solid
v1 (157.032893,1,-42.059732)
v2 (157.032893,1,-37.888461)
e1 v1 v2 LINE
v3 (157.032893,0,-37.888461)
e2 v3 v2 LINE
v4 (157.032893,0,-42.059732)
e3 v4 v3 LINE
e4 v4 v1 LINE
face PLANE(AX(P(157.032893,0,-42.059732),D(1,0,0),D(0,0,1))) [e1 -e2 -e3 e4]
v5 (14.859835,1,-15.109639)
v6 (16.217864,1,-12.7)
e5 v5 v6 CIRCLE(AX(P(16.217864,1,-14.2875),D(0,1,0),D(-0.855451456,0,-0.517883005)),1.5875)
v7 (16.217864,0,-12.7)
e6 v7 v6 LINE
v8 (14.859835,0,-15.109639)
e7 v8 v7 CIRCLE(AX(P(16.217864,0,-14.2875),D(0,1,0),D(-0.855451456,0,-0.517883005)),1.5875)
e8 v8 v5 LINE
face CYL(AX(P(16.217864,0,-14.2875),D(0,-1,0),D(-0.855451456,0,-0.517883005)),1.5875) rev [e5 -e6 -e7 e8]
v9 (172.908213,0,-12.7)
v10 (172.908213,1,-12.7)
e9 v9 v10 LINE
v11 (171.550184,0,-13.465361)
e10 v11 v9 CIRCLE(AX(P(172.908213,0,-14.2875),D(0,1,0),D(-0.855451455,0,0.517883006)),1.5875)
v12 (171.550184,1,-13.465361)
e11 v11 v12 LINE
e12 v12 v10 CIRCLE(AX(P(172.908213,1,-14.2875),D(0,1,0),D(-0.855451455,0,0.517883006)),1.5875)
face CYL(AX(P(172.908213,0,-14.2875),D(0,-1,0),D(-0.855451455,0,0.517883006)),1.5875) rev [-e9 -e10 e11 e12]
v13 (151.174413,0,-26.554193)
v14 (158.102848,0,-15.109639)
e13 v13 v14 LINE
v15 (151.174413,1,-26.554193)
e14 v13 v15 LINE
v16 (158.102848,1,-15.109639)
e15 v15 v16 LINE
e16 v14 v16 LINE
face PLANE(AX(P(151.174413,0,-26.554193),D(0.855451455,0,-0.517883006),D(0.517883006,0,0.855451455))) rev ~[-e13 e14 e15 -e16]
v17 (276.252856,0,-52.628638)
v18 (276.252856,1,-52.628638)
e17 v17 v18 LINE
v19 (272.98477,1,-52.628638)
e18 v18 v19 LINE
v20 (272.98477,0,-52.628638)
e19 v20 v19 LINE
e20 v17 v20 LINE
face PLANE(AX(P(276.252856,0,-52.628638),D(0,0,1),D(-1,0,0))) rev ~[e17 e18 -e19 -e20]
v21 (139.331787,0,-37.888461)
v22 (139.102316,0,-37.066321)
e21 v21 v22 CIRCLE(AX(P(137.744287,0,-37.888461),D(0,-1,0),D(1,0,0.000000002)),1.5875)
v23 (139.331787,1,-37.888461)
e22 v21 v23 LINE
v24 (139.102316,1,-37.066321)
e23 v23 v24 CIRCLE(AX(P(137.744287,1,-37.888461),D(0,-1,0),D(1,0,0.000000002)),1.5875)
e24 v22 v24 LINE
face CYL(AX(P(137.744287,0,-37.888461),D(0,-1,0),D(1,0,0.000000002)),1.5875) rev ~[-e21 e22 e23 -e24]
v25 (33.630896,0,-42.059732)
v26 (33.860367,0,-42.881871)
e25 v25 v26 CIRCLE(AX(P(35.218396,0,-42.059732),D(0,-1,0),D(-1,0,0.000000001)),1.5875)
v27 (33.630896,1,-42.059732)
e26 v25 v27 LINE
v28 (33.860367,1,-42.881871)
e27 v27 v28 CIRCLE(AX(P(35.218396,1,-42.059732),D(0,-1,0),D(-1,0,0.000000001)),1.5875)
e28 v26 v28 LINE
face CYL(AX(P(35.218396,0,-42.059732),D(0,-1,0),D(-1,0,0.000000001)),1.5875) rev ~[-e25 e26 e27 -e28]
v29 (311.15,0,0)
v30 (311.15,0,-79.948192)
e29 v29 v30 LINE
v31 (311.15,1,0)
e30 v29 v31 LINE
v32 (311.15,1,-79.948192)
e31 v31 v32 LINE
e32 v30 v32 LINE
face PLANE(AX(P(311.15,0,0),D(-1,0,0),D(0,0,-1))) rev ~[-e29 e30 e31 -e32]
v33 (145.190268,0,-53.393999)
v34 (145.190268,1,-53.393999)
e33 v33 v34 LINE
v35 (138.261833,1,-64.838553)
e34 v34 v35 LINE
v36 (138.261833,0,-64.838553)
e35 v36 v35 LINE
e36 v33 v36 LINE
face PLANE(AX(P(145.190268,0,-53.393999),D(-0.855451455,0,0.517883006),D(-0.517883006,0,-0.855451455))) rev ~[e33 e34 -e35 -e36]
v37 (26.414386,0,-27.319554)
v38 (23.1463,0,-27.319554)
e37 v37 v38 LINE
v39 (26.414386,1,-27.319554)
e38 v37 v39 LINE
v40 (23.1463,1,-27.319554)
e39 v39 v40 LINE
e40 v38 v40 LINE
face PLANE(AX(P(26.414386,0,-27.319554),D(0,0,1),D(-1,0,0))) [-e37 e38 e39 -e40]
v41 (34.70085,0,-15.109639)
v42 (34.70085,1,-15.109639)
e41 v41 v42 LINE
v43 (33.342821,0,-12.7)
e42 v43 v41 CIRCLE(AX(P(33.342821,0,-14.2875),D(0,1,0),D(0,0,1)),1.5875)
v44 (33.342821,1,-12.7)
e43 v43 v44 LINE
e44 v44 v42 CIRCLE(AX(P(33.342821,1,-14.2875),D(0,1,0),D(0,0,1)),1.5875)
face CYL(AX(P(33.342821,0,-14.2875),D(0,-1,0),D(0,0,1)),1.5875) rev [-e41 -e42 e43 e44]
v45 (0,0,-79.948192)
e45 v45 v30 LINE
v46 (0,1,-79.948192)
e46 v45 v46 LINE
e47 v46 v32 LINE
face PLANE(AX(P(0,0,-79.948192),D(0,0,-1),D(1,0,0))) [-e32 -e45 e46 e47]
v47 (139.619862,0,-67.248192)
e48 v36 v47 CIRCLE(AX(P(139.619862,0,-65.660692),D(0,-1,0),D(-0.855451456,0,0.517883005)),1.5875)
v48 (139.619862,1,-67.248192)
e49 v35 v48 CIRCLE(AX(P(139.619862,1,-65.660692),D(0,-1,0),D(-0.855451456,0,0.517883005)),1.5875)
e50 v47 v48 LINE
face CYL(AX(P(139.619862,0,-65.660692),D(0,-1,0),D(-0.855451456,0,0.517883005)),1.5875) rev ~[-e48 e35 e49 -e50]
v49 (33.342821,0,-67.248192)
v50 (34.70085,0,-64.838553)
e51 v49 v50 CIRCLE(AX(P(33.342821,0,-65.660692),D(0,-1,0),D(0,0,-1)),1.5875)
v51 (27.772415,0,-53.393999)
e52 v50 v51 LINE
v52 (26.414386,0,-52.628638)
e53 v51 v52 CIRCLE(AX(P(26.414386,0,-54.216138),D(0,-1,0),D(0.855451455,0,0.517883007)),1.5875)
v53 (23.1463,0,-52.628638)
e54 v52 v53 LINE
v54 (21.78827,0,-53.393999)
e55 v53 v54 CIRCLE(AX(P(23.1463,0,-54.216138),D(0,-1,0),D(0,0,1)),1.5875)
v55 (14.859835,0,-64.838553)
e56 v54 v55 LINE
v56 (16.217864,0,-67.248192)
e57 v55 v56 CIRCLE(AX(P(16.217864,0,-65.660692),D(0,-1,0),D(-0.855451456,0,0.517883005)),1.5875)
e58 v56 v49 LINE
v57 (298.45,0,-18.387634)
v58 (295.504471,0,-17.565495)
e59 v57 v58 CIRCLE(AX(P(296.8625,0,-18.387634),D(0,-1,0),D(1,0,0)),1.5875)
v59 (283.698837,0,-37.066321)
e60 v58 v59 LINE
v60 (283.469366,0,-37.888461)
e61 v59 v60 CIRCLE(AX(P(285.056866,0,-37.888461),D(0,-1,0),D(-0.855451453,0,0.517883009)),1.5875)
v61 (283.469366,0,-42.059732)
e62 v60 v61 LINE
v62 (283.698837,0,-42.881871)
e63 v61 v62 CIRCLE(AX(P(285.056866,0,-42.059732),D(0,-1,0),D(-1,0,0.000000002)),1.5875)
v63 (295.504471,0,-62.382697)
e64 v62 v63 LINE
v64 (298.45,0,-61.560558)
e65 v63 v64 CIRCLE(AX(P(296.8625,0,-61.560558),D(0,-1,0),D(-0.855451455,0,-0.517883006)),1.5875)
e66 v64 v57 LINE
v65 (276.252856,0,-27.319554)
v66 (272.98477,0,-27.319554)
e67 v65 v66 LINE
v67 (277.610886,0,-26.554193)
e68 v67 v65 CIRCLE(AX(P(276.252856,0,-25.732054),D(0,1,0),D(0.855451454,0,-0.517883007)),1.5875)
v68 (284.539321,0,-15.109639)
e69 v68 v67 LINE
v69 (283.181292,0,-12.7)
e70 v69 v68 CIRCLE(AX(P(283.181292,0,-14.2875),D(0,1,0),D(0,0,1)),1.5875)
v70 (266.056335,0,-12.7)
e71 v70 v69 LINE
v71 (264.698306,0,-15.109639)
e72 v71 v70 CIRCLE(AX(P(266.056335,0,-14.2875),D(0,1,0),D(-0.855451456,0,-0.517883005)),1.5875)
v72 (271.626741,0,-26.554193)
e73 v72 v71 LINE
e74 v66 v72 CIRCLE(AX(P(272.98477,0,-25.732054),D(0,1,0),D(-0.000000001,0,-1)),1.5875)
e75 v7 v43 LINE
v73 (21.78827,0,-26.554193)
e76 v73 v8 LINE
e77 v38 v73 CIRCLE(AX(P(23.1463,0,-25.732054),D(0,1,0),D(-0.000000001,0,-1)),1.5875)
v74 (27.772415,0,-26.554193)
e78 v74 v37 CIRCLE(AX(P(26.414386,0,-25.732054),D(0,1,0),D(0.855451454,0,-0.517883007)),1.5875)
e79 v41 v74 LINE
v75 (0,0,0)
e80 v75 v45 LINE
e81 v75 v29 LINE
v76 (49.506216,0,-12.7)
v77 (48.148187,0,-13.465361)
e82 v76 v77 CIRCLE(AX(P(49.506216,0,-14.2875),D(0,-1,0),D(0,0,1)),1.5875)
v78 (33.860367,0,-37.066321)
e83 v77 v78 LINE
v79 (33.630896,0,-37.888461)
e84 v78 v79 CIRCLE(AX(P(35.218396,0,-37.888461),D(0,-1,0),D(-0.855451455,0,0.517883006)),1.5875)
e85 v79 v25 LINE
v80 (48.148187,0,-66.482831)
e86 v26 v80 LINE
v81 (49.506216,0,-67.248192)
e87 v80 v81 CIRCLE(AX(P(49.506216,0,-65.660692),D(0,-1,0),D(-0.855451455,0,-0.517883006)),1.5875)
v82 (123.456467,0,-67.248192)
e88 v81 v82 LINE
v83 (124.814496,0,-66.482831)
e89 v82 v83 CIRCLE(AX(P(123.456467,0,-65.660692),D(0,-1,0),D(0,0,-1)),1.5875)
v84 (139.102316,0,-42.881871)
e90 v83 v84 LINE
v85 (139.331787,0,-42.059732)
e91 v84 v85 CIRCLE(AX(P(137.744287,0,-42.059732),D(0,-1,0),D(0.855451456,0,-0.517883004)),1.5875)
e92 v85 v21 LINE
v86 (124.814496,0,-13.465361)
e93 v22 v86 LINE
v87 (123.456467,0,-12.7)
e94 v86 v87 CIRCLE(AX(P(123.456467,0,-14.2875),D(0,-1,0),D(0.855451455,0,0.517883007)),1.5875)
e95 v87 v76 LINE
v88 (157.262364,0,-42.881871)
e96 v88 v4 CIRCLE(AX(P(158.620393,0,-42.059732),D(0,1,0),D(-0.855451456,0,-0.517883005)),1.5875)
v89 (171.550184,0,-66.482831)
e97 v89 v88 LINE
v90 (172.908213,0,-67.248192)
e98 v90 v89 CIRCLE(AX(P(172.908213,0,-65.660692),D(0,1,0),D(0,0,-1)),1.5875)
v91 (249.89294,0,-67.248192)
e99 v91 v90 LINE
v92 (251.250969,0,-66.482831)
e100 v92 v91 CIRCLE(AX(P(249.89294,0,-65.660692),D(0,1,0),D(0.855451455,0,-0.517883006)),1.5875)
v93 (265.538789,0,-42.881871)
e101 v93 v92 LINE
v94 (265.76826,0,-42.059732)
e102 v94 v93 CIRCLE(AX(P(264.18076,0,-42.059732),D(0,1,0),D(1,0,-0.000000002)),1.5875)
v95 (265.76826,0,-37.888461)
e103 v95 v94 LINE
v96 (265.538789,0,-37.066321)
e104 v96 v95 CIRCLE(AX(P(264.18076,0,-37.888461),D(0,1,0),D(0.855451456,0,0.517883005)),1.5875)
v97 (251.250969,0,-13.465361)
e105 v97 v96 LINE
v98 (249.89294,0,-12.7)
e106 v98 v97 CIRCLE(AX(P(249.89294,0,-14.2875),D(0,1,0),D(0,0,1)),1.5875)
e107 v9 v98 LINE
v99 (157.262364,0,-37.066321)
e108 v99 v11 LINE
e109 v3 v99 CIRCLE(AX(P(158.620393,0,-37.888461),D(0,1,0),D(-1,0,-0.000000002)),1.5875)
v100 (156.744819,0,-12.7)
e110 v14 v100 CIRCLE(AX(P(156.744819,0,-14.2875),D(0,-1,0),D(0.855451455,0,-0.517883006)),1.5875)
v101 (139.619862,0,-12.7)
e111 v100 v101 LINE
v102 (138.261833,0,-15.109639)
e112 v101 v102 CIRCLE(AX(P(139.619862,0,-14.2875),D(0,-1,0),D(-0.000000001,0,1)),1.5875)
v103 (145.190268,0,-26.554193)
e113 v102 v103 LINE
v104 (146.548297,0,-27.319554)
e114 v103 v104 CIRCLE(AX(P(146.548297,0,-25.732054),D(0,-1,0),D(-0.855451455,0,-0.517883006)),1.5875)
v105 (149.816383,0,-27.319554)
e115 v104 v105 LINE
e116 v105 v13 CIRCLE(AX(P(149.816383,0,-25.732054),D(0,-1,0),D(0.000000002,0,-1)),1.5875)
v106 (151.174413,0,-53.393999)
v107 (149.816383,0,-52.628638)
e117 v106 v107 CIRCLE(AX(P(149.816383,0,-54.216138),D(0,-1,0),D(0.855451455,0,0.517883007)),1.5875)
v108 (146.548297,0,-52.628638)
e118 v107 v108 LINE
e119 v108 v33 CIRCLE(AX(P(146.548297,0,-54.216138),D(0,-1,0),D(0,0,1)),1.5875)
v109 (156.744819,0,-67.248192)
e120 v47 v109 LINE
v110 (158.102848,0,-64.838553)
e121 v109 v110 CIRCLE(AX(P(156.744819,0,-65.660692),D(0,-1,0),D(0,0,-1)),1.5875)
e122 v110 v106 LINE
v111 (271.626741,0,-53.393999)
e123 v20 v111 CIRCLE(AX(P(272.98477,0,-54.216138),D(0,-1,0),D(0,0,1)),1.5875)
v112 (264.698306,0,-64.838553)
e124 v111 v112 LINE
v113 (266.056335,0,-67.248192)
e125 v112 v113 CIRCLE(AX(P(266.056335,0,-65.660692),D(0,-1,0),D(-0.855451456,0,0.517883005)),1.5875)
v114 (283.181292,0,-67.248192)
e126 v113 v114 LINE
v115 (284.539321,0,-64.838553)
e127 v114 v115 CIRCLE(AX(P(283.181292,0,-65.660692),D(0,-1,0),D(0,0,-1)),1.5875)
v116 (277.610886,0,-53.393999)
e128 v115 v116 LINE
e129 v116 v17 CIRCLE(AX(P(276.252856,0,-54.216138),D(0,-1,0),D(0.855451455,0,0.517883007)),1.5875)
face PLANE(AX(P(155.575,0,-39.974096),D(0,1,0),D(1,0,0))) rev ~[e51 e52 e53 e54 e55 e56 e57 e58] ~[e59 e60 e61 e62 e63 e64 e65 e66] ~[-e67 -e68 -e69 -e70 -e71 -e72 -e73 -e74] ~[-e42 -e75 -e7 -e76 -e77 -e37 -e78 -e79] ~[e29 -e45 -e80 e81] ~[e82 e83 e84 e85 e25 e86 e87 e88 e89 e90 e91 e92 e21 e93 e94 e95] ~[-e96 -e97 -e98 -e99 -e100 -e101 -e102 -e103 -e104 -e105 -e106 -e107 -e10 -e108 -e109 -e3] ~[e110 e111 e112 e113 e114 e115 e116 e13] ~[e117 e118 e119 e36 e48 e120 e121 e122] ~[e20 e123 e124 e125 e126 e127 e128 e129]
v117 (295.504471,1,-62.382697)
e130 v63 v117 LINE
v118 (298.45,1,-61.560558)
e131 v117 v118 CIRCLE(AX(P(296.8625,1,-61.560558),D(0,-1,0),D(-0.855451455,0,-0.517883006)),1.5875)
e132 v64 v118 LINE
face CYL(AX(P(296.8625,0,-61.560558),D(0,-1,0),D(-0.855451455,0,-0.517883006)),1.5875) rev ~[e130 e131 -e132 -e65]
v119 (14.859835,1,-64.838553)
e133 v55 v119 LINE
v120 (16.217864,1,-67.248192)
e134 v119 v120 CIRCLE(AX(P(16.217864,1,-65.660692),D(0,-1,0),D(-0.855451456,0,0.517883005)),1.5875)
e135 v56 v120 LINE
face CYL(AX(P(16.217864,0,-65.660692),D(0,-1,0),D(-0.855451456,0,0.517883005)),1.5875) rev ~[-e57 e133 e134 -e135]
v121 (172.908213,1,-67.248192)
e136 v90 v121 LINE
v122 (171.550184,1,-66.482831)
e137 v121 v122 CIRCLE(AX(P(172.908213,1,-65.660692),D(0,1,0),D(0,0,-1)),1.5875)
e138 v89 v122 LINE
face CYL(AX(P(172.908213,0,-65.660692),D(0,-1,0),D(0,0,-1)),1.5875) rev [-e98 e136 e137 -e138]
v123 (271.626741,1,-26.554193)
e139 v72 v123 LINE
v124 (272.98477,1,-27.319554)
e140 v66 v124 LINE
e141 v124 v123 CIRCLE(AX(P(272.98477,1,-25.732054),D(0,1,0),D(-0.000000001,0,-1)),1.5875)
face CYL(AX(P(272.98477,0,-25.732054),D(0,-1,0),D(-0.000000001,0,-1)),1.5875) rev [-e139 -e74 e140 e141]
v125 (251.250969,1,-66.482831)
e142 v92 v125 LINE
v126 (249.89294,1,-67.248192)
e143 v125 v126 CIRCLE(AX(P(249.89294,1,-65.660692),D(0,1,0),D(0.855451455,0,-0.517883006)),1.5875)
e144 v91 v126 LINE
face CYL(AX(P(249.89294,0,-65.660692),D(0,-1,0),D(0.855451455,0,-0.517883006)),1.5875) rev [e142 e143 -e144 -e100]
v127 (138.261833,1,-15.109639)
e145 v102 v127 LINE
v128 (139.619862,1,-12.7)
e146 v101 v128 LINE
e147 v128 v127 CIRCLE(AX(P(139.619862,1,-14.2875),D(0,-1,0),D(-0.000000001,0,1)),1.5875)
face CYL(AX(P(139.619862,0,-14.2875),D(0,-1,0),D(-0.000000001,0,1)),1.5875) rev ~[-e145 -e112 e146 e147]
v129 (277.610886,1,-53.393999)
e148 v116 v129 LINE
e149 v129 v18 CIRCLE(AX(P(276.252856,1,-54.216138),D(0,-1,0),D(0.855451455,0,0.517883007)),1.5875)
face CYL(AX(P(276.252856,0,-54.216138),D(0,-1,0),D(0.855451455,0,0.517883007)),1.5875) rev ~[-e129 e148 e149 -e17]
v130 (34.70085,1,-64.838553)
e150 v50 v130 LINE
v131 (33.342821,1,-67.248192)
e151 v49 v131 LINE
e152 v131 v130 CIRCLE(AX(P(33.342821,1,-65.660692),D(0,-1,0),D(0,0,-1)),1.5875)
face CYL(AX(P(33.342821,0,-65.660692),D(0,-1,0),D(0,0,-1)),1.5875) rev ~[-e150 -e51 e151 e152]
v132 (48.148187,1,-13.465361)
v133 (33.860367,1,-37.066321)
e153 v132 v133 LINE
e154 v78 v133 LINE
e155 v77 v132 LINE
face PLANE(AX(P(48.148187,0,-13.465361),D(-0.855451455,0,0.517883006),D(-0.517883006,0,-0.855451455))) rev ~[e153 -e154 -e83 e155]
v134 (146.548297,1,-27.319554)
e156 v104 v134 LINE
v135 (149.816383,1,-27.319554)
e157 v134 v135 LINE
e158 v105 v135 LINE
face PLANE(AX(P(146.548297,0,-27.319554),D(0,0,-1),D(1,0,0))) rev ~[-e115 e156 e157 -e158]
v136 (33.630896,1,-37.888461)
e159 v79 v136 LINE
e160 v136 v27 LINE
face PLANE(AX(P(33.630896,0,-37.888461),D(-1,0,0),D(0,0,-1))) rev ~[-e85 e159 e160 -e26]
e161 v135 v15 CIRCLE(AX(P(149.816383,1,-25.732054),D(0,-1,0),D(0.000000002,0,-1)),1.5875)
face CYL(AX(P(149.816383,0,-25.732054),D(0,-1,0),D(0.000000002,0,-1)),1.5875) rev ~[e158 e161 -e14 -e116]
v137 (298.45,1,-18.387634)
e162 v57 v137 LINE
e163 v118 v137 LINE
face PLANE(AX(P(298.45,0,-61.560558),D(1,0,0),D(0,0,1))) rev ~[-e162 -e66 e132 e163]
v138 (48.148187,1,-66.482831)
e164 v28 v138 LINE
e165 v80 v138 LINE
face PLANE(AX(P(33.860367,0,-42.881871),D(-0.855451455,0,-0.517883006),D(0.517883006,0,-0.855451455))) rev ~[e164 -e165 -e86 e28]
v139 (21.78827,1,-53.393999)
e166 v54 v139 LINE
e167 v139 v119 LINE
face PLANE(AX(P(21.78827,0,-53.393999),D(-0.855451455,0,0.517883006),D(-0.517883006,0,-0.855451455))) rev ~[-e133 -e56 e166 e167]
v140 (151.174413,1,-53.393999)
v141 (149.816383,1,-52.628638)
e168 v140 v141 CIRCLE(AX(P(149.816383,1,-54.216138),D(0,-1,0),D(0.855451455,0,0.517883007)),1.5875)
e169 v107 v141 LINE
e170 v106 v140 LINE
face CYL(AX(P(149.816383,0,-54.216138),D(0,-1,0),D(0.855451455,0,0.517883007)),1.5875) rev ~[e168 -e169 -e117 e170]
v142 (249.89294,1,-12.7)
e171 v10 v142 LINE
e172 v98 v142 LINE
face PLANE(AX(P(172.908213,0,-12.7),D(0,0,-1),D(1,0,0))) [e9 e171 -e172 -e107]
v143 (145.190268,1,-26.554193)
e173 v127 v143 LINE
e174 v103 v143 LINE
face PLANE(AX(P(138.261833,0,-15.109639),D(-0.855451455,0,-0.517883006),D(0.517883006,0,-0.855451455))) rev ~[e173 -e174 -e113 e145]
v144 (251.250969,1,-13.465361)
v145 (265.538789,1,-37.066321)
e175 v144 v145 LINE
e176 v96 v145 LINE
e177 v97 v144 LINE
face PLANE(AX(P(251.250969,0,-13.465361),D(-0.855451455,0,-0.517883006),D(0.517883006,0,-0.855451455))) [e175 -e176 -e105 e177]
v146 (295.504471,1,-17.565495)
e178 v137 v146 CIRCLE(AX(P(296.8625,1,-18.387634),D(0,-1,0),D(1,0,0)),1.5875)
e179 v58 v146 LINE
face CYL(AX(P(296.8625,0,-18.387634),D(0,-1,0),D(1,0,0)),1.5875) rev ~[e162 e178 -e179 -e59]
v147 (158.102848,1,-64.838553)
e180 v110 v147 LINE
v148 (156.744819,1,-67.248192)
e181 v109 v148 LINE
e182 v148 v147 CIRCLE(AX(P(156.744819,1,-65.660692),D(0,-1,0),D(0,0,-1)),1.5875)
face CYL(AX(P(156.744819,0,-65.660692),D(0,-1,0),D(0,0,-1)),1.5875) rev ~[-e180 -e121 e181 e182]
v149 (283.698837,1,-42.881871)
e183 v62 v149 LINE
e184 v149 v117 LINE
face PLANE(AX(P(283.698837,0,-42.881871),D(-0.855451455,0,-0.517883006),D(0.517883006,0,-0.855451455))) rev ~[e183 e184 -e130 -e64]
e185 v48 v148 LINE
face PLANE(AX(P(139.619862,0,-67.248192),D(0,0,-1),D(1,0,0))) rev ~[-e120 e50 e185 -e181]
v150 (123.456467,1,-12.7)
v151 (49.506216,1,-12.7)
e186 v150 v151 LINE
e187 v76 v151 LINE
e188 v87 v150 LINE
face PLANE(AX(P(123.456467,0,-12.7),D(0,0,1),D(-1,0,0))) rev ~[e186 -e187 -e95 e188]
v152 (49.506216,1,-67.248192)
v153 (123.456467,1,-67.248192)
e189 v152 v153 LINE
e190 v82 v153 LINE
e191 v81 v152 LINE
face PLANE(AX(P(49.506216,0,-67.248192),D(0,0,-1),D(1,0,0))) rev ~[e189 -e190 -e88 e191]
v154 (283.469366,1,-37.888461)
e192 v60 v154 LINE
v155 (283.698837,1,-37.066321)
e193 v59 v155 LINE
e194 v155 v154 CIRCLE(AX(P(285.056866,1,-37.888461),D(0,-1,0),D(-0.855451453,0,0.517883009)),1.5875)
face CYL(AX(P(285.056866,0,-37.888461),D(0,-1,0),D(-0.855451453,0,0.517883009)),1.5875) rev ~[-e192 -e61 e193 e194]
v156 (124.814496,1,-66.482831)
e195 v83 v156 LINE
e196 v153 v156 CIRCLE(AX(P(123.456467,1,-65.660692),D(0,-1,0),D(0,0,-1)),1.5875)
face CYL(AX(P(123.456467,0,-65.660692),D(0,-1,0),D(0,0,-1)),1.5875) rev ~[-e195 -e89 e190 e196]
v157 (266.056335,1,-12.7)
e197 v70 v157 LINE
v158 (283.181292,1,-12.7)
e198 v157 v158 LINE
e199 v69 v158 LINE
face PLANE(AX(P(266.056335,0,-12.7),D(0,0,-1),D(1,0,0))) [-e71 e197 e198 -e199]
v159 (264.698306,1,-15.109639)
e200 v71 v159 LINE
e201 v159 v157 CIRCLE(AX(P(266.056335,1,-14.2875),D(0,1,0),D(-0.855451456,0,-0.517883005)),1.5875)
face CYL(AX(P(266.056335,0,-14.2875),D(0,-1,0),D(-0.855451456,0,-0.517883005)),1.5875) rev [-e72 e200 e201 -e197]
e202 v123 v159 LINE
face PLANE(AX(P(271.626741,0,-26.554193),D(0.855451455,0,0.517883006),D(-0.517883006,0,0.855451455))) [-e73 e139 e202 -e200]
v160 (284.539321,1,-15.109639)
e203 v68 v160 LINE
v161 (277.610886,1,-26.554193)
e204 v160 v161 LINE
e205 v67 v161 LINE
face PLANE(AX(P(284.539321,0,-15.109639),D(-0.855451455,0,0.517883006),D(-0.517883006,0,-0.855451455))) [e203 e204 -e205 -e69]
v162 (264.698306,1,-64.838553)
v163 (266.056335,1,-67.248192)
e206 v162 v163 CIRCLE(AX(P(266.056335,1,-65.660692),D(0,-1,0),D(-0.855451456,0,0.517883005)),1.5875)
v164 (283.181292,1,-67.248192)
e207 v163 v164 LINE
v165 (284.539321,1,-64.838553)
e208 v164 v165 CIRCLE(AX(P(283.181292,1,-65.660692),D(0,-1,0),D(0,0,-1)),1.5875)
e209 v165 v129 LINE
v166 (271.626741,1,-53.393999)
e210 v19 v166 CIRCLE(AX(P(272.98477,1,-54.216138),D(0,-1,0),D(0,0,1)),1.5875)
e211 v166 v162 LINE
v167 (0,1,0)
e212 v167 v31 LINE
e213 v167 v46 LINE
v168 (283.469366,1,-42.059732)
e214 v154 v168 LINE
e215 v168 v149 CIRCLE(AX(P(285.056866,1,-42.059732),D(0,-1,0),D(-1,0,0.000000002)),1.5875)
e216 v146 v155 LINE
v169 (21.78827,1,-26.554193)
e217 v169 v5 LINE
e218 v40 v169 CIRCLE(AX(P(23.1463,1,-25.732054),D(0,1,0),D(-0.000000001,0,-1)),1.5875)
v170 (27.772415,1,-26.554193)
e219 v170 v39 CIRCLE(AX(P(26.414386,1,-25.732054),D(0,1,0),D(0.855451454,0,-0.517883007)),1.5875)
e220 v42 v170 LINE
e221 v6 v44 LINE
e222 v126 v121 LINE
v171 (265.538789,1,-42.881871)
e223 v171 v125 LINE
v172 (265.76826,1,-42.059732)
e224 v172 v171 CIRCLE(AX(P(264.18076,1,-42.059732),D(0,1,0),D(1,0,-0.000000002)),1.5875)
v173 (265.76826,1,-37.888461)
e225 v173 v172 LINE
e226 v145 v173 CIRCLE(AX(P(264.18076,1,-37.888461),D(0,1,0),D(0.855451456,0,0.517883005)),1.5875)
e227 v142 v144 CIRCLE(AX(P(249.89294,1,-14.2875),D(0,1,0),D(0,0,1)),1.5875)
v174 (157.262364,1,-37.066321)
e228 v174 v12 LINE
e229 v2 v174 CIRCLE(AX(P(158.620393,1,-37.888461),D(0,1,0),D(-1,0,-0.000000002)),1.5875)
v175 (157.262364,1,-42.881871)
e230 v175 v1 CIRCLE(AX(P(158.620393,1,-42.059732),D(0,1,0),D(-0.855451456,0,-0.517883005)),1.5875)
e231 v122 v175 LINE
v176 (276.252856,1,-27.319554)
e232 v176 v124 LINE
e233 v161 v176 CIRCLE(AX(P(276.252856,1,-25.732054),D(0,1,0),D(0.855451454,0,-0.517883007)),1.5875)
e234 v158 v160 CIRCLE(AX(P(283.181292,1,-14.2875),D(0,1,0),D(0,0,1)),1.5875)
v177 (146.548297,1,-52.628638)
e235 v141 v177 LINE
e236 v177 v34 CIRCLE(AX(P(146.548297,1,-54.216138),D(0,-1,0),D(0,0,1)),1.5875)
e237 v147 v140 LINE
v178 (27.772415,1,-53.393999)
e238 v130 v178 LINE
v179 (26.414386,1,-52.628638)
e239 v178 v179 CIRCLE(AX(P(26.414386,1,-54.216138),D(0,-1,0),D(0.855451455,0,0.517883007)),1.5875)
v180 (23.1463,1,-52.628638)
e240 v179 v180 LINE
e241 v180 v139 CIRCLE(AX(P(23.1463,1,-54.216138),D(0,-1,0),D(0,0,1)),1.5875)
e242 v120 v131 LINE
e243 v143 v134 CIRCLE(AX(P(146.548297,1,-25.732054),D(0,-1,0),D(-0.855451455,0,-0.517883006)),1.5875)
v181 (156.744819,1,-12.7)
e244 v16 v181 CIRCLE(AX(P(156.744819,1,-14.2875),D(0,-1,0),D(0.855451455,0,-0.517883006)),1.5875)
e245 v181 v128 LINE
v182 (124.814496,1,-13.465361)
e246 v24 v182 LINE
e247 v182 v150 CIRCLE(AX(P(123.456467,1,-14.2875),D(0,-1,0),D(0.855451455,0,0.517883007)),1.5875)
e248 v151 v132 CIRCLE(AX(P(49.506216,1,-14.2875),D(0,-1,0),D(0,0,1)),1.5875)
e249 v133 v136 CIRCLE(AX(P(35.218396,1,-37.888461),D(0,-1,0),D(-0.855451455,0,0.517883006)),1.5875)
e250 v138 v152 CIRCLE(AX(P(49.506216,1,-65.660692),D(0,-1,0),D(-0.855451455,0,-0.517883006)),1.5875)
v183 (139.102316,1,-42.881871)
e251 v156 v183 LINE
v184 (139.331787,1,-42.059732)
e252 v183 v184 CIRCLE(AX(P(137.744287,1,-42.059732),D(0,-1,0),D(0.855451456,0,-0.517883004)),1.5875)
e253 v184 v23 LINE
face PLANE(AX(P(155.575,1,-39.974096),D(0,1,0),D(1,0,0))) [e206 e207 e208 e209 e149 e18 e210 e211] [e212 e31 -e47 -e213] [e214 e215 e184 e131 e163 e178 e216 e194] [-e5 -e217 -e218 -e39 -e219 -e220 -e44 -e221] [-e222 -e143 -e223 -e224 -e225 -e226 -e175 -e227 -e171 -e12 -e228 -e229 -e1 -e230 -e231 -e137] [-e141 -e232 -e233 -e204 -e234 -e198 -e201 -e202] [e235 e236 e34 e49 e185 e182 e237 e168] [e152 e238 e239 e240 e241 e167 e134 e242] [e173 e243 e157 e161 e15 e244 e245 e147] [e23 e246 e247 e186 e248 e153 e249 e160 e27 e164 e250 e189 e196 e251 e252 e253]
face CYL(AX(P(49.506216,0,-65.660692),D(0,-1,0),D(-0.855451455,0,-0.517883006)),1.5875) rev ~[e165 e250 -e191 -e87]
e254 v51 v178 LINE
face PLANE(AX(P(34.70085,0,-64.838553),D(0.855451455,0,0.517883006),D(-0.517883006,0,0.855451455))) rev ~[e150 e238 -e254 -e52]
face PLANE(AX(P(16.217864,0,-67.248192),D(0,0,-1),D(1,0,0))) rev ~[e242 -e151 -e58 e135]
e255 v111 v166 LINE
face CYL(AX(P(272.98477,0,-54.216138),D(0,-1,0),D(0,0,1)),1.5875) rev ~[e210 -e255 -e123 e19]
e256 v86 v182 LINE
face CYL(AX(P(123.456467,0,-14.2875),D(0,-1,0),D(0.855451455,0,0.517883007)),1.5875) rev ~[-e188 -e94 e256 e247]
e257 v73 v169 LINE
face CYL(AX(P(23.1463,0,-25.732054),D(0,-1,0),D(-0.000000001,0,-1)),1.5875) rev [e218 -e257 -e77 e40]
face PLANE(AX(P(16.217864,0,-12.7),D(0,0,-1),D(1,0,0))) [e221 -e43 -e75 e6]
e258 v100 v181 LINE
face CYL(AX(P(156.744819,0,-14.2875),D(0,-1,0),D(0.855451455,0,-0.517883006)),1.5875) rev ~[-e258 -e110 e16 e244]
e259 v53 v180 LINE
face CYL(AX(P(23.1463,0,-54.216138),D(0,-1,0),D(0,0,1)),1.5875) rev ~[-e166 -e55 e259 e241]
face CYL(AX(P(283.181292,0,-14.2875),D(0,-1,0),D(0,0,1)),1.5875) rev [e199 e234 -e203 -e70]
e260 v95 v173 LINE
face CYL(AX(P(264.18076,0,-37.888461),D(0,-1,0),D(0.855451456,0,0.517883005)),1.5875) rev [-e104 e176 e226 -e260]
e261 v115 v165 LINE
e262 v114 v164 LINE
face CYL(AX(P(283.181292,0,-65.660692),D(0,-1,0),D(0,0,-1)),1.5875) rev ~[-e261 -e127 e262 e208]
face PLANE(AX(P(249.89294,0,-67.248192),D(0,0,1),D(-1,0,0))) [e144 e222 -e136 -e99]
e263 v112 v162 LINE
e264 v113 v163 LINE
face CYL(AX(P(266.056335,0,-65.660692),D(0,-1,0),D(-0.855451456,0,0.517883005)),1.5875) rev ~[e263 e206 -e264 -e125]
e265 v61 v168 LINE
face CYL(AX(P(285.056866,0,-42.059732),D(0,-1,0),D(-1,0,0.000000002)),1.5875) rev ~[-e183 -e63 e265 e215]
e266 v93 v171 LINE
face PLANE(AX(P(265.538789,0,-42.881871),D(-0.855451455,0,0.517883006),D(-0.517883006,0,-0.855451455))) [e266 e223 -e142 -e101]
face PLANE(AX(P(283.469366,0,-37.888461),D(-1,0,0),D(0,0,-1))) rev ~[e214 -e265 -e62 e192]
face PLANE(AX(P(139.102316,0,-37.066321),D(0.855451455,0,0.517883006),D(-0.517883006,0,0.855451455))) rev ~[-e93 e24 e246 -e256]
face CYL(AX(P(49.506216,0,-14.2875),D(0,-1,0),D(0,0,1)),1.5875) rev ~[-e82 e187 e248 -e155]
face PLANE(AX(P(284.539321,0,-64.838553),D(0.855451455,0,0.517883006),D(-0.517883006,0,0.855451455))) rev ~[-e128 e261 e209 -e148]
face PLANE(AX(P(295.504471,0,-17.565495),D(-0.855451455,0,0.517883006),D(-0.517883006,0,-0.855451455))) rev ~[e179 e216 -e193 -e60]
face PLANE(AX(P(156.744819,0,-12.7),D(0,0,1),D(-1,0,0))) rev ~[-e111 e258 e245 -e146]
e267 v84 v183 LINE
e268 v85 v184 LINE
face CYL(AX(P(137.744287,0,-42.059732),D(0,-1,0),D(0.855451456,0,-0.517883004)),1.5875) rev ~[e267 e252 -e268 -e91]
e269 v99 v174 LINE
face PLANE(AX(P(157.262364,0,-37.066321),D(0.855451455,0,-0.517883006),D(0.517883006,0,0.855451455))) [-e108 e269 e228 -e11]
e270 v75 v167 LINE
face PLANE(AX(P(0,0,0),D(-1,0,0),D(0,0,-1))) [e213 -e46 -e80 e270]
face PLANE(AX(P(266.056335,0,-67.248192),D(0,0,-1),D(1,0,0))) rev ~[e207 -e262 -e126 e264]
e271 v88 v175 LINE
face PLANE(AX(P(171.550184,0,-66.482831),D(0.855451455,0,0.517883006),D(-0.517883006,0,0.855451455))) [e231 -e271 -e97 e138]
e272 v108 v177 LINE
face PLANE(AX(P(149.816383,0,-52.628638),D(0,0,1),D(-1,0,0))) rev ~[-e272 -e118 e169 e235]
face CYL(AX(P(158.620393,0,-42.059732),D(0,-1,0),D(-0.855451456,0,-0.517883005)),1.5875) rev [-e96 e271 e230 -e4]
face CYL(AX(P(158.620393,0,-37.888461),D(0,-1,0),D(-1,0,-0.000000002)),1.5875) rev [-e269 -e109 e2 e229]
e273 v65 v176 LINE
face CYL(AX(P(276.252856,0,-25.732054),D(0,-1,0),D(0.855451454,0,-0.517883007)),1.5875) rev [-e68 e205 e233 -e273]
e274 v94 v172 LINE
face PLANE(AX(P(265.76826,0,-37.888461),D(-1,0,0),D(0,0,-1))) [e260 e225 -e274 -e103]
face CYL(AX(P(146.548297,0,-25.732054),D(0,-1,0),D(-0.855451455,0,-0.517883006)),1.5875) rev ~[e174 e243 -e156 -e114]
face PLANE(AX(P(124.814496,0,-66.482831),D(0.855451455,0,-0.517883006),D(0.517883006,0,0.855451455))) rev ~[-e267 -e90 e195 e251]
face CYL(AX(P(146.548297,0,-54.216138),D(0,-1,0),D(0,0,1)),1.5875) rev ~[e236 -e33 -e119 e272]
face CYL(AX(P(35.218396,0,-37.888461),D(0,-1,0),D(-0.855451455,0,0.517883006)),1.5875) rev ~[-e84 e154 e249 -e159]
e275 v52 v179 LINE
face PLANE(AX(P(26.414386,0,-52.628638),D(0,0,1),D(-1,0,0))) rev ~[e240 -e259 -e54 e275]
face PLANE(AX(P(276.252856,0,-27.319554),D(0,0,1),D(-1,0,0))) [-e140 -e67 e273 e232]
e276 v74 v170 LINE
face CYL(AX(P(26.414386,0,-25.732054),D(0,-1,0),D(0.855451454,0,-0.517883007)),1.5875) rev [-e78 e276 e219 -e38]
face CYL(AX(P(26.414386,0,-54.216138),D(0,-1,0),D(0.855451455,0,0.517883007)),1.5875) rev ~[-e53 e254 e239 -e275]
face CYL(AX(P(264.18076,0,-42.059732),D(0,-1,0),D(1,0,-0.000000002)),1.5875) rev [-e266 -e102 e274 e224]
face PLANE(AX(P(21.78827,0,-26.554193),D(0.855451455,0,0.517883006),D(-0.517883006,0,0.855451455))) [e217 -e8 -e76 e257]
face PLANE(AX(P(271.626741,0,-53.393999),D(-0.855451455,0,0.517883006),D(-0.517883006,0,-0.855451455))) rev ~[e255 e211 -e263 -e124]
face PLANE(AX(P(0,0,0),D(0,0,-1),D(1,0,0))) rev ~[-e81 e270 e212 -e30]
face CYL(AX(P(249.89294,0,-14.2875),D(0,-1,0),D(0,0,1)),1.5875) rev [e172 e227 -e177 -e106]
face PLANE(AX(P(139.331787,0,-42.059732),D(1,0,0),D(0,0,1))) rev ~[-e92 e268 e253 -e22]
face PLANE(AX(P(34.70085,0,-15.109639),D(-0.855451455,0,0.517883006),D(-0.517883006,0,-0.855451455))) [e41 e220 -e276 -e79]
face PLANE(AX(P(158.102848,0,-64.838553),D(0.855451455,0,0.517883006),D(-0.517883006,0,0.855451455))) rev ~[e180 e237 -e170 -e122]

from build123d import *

# Parameters (mm, degrees)
SKETCH1_W           = 311.15
SKETCH1_H           = 79.948192099
BOSS_EXTRUDE1_DEPTH = 1


with BuildPart() as part:
    # Sketch1 → Boss-Extrude1 (new body)
    with BuildSketch(Plane(origin=(0, 0, 0), x_dir=(1, 0, 0), z_dir=(0, 1, 0))):
        with Locations((155.575, 39.97409605)):
            Rectangle(SKETCH1_W, SKETCH1_H)
        with BuildLine():
            Line((16.217864357, 67.248192099), (33.342821045, 67.248192099))
            ThreePointArc((33.342821045, 67.248192099), (34.725807369, 66.44011822), (34.70085023, 64.838552828))
            Line((34.70085023, 64.838552828), (27.77241501, 53.39399889))
            ThreePointArc((27.77241501, 53.39399889), (27.193811945, 52.833151838), (26.414385824, 52.628638162))
            Line((26.414385824, 52.628638162), (23.146299578, 52.628638162))
            ThreePointArc((23.146299578, 52.628638162), (22.366873457, 52.833151838), (21.788270393, 53.39399889))
            Line((21.788270393, 53.39399889), (14.859835172, 64.838552828))
            ThreePointArc((14.859835172, 64.838552828), (14.834878034, 66.44011822), (16.217864357, 67.248192099))
        make_face(mode=Mode.SUBTRACT)
        with BuildLine():
            Line((49.506215761, 67.248192099), (123.456467253, 67.248192099))
            ThreePointArc((123.456467253, 67.248192099), (124.235893374, 67.043678423), (124.814496439, 66.482831371))
            Line((124.814496439, 66.482831371), (139.102316391, 42.881870854))
            ThreePointArc((139.102316391, 42.881870854), (139.273343709, 42.486513094), (139.331787206, 42.059731582))
            Line((139.331787206, 42.059731582), (139.331787206, 37.888460517))
            ThreePointArc((139.331787206, 37.888460517), (139.273343709, 37.461679005), (139.102316391, 37.066321246))
            Line((139.102316391, 37.066321246), (124.814496439, 13.465360728))
            ThreePointArc((124.814496439, 13.465360728), (124.235893374, 12.904513676), (123.456467253, 12.7))
            Line((123.456467253, 12.7), (49.506215761, 12.7))
            ThreePointArc((49.506215761, 12.7), (48.72678964, 12.904513676), (48.148186576, 13.465360728))
            Line((48.148186576, 13.465360728), (33.860366623, 37.066321246))
            ThreePointArc((33.860366623, 37.066321246), (33.689339305, 37.461679005), (33.630895809, 37.888460517))
            Line((33.630895809, 37.888460517), (33.630895809, 42.059731582))
            ThreePointArc((33.630895809, 42.059731582), (33.689339305, 42.486513094), (33.860366623, 42.881870854))
            Line((33.860366623, 42.881870854), (48.148186576, 66.482831371))
            ThreePointArc((48.148186576, 66.482831371), (48.72678964, 67.043678423), (49.506215761, 67.248192099))
        make_face(mode=Mode.SUBTRACT)
        with BuildLine():
            Line((266.056334932, 67.248192099), (283.18129162, 67.248192099))
            ThreePointArc((283.18129162, 67.248192099), (284.564277944, 66.44011822), (284.539320806, 64.838552828))
            Line((284.539320806, 64.838552828), (277.610885585, 53.39399889))
            ThreePointArc((277.610885585, 53.39399889), (277.03228252, 52.833151838), (276.252856399, 52.628638162))
            Line((276.252856399, 52.628638162), (272.984770153, 52.628638162))
            ThreePointArc((272.984770153, 52.628638162), (272.205344032, 52.833151838), (271.626740968, 53.39399889))
            Line((271.626740968, 53.39399889), (264.698305747, 64.838552828))
            ThreePointArc((264.698305747, 64.838552828), (264.673348609, 66.44011822), (266.056334932, 67.248192099))
        make_face(mode=Mode.SUBTRACT)
        with BuildLine():
            Line((16.217864357, 12.7), (33.342821045, 12.7))
            ThreePointArc((33.342821045, 12.7), (34.725807369, 13.508073879), (34.70085023, 15.109639272))
            Line((34.70085023, 15.109639272), (27.77241501, 26.554193209))
            ThreePointArc((27.77241501, 26.554193209), (27.193811945, 27.115040261), (26.414385824, 27.319553938))
            Line((26.414385824, 27.319553938), (23.146299578, 27.319553938))
            ThreePointArc((23.146299578, 27.319553938), (22.366873457, 27.115040261), (21.788270393, 26.554193209))
            Line((21.788270393, 26.554193209), (14.859835172, 15.109639272))
            ThreePointArc((14.859835172, 15.109639272), (14.834878034, 13.508073879), (16.217864357, 12.7))
        make_face(mode=Mode.SUBTRACT)
        with BuildLine():
            Line((139.619861969, 67.248192099), (156.744818657, 67.248192099))
            ThreePointArc((156.744818657, 67.248192099), (158.127804981, 66.44011822), (158.102847842, 64.838552828))
            Line((158.102847842, 64.838552828), (151.174412622, 53.39399889))
            ThreePointArc((151.174412622, 53.39399889), (150.595809557, 52.833151838), (149.816383436, 52.628638162))
            Line((149.816383436, 52.628638162), (146.54829719, 52.628638162))
            ThreePointArc((146.54829719, 52.628638162), (145.768871069, 52.833151838), (145.190268005, 53.39399889))
            Line((145.190268005, 53.39399889), (138.261832784, 64.838552828))
            ThreePointArc((138.261832784, 64.838552828), (138.236875646, 66.44011822), (139.619861969, 67.248192099))
        make_face(mode=Mode.SUBTRACT)
        with BuildLine():
            Line((298.45, 61.560557725), (298.45, 18.387634374))
            ThreePointArc((298.45, 18.387634374), (297.289281512, 16.858577871), (295.504470815, 17.565495103))
            Line((295.504470815, 17.565495103), (283.698837199, 37.066321246))
            ThreePointArc((283.698837199, 37.066321246), (283.52780988, 37.461679005), (283.469366384, 37.888460517))
            Line((283.469366384, 37.888460517), (283.469366384, 42.059731582))
            ThreePointArc((283.469366384, 42.059731582), (283.52780988, 42.486513094), (283.698837199, 42.881870854))
            Line((283.698837199, 42.881870854), (295.504470815, 62.382696997))
            ThreePointArc((295.504470815, 62.382696997), (297.289281512, 63.089614229), (298.45, 61.560557725))
        make_face(mode=Mode.SUBTRACT)
        with BuildLine():
            Line((265.768260169, 37.888460517), (265.768260169, 42.059731582))
            ThreePointArc((265.768260169, 42.059731582), (265.709816672, 42.486513094), (265.538789354, 42.881870854))
            Line((265.538789354, 42.881870854), (251.250969402, 66.482831371))
            ThreePointArc((251.250969402, 66.482831371), (250.672366338, 67.043678423), (249.892940217, 67.248192099))
            Line((249.892940217, 67.248192099), (172.908213373, 67.248192099))
            ThreePointArc((172.908213373, 67.248192099), (172.128787252, 67.043678423), (171.550184188, 66.482831371))
            Line((171.550184188, 66.482831371), (157.262364235, 42.881870854))
            ThreePointArc((157.262364235, 42.881870854), (157.091336917, 42.486513094), (157.032893421, 42.059731582))
            Line((157.032893421, 42.059731582), (157.032893421, 37.888460517))
            ThreePointArc((157.032893421, 37.888460517), (157.091336917, 37.461679005), (157.262364235, 37.066321246))
            Line((157.262364235, 37.066321246), (171.550184188, 13.465360728))
            ThreePointArc((171.550184188, 13.465360728), (172.128787252, 12.904513676), (172.908213373, 12.7))
            Line((172.908213373, 12.7), (249.892940217, 12.7))
            ThreePointArc((249.892940217, 12.7), (250.672366338, 12.904513676), (251.250969402, 13.465360728))
            Line((251.250969402, 13.465360728), (265.538789354, 37.066321246))
            ThreePointArc((265.538789354, 37.066321246), (265.709816672, 37.461679005), (265.768260169, 37.888460517))
        make_face(mode=Mode.SUBTRACT)
        with BuildLine():
            Line((146.54829719, 27.319553938), (149.816383436, 27.319553938))
            ThreePointArc((149.816383436, 27.319553938), (150.595809557, 27.115040261), (151.174412622, 26.554193209))
            Line((151.174412622, 26.554193209), (158.102847842, 15.109639272))
            ThreePointArc((158.102847842, 15.109639272), (158.127804981, 13.508073879), (156.744818657, 12.7))
            Line((156.744818657, 12.7), (139.619861969, 12.7))
            ThreePointArc((139.619861969, 12.7), (138.236875646, 13.508073879), (138.261832784, 15.109639272))
            Line((138.261832784, 15.109639272), (145.190268005, 26.554193209))
            ThreePointArc((145.190268005, 26.554193209), (145.768871069, 27.115040261), (146.54829719, 27.319553938))
        make_face(mode=Mode.SUBTRACT)
        with BuildLine():
            Line((271.626740968, 26.554193209), (264.698305747, 15.109639272))
            ThreePointArc((264.698305747, 15.109639272), (264.673348609, 13.508073879), (266.056334932, 12.7))
            Line((266.056334932, 12.7), (283.18129162, 12.7))
            ThreePointArc((283.18129162, 12.7), (284.564277944, 13.508073879), (284.539320806, 15.109639272))
            Line((284.539320806, 15.109639272), (277.610885585, 26.554193209))
            ThreePointArc((277.610885585, 26.554193209), (277.03228252, 27.115040261), (276.252856399, 27.319553938))
            Line((276.252856399, 27.319553938), (272.984770153, 27.319553938))
            ThreePointArc((272.984770153, 27.319553938), (272.205344032, 27.115040261), (271.626740968, 26.554193209))
        make_face(mode=Mode.SUBTRACT)
    extrude(amount=BOSS_EXTRUDE1_DEPTH)


solid = part.part
